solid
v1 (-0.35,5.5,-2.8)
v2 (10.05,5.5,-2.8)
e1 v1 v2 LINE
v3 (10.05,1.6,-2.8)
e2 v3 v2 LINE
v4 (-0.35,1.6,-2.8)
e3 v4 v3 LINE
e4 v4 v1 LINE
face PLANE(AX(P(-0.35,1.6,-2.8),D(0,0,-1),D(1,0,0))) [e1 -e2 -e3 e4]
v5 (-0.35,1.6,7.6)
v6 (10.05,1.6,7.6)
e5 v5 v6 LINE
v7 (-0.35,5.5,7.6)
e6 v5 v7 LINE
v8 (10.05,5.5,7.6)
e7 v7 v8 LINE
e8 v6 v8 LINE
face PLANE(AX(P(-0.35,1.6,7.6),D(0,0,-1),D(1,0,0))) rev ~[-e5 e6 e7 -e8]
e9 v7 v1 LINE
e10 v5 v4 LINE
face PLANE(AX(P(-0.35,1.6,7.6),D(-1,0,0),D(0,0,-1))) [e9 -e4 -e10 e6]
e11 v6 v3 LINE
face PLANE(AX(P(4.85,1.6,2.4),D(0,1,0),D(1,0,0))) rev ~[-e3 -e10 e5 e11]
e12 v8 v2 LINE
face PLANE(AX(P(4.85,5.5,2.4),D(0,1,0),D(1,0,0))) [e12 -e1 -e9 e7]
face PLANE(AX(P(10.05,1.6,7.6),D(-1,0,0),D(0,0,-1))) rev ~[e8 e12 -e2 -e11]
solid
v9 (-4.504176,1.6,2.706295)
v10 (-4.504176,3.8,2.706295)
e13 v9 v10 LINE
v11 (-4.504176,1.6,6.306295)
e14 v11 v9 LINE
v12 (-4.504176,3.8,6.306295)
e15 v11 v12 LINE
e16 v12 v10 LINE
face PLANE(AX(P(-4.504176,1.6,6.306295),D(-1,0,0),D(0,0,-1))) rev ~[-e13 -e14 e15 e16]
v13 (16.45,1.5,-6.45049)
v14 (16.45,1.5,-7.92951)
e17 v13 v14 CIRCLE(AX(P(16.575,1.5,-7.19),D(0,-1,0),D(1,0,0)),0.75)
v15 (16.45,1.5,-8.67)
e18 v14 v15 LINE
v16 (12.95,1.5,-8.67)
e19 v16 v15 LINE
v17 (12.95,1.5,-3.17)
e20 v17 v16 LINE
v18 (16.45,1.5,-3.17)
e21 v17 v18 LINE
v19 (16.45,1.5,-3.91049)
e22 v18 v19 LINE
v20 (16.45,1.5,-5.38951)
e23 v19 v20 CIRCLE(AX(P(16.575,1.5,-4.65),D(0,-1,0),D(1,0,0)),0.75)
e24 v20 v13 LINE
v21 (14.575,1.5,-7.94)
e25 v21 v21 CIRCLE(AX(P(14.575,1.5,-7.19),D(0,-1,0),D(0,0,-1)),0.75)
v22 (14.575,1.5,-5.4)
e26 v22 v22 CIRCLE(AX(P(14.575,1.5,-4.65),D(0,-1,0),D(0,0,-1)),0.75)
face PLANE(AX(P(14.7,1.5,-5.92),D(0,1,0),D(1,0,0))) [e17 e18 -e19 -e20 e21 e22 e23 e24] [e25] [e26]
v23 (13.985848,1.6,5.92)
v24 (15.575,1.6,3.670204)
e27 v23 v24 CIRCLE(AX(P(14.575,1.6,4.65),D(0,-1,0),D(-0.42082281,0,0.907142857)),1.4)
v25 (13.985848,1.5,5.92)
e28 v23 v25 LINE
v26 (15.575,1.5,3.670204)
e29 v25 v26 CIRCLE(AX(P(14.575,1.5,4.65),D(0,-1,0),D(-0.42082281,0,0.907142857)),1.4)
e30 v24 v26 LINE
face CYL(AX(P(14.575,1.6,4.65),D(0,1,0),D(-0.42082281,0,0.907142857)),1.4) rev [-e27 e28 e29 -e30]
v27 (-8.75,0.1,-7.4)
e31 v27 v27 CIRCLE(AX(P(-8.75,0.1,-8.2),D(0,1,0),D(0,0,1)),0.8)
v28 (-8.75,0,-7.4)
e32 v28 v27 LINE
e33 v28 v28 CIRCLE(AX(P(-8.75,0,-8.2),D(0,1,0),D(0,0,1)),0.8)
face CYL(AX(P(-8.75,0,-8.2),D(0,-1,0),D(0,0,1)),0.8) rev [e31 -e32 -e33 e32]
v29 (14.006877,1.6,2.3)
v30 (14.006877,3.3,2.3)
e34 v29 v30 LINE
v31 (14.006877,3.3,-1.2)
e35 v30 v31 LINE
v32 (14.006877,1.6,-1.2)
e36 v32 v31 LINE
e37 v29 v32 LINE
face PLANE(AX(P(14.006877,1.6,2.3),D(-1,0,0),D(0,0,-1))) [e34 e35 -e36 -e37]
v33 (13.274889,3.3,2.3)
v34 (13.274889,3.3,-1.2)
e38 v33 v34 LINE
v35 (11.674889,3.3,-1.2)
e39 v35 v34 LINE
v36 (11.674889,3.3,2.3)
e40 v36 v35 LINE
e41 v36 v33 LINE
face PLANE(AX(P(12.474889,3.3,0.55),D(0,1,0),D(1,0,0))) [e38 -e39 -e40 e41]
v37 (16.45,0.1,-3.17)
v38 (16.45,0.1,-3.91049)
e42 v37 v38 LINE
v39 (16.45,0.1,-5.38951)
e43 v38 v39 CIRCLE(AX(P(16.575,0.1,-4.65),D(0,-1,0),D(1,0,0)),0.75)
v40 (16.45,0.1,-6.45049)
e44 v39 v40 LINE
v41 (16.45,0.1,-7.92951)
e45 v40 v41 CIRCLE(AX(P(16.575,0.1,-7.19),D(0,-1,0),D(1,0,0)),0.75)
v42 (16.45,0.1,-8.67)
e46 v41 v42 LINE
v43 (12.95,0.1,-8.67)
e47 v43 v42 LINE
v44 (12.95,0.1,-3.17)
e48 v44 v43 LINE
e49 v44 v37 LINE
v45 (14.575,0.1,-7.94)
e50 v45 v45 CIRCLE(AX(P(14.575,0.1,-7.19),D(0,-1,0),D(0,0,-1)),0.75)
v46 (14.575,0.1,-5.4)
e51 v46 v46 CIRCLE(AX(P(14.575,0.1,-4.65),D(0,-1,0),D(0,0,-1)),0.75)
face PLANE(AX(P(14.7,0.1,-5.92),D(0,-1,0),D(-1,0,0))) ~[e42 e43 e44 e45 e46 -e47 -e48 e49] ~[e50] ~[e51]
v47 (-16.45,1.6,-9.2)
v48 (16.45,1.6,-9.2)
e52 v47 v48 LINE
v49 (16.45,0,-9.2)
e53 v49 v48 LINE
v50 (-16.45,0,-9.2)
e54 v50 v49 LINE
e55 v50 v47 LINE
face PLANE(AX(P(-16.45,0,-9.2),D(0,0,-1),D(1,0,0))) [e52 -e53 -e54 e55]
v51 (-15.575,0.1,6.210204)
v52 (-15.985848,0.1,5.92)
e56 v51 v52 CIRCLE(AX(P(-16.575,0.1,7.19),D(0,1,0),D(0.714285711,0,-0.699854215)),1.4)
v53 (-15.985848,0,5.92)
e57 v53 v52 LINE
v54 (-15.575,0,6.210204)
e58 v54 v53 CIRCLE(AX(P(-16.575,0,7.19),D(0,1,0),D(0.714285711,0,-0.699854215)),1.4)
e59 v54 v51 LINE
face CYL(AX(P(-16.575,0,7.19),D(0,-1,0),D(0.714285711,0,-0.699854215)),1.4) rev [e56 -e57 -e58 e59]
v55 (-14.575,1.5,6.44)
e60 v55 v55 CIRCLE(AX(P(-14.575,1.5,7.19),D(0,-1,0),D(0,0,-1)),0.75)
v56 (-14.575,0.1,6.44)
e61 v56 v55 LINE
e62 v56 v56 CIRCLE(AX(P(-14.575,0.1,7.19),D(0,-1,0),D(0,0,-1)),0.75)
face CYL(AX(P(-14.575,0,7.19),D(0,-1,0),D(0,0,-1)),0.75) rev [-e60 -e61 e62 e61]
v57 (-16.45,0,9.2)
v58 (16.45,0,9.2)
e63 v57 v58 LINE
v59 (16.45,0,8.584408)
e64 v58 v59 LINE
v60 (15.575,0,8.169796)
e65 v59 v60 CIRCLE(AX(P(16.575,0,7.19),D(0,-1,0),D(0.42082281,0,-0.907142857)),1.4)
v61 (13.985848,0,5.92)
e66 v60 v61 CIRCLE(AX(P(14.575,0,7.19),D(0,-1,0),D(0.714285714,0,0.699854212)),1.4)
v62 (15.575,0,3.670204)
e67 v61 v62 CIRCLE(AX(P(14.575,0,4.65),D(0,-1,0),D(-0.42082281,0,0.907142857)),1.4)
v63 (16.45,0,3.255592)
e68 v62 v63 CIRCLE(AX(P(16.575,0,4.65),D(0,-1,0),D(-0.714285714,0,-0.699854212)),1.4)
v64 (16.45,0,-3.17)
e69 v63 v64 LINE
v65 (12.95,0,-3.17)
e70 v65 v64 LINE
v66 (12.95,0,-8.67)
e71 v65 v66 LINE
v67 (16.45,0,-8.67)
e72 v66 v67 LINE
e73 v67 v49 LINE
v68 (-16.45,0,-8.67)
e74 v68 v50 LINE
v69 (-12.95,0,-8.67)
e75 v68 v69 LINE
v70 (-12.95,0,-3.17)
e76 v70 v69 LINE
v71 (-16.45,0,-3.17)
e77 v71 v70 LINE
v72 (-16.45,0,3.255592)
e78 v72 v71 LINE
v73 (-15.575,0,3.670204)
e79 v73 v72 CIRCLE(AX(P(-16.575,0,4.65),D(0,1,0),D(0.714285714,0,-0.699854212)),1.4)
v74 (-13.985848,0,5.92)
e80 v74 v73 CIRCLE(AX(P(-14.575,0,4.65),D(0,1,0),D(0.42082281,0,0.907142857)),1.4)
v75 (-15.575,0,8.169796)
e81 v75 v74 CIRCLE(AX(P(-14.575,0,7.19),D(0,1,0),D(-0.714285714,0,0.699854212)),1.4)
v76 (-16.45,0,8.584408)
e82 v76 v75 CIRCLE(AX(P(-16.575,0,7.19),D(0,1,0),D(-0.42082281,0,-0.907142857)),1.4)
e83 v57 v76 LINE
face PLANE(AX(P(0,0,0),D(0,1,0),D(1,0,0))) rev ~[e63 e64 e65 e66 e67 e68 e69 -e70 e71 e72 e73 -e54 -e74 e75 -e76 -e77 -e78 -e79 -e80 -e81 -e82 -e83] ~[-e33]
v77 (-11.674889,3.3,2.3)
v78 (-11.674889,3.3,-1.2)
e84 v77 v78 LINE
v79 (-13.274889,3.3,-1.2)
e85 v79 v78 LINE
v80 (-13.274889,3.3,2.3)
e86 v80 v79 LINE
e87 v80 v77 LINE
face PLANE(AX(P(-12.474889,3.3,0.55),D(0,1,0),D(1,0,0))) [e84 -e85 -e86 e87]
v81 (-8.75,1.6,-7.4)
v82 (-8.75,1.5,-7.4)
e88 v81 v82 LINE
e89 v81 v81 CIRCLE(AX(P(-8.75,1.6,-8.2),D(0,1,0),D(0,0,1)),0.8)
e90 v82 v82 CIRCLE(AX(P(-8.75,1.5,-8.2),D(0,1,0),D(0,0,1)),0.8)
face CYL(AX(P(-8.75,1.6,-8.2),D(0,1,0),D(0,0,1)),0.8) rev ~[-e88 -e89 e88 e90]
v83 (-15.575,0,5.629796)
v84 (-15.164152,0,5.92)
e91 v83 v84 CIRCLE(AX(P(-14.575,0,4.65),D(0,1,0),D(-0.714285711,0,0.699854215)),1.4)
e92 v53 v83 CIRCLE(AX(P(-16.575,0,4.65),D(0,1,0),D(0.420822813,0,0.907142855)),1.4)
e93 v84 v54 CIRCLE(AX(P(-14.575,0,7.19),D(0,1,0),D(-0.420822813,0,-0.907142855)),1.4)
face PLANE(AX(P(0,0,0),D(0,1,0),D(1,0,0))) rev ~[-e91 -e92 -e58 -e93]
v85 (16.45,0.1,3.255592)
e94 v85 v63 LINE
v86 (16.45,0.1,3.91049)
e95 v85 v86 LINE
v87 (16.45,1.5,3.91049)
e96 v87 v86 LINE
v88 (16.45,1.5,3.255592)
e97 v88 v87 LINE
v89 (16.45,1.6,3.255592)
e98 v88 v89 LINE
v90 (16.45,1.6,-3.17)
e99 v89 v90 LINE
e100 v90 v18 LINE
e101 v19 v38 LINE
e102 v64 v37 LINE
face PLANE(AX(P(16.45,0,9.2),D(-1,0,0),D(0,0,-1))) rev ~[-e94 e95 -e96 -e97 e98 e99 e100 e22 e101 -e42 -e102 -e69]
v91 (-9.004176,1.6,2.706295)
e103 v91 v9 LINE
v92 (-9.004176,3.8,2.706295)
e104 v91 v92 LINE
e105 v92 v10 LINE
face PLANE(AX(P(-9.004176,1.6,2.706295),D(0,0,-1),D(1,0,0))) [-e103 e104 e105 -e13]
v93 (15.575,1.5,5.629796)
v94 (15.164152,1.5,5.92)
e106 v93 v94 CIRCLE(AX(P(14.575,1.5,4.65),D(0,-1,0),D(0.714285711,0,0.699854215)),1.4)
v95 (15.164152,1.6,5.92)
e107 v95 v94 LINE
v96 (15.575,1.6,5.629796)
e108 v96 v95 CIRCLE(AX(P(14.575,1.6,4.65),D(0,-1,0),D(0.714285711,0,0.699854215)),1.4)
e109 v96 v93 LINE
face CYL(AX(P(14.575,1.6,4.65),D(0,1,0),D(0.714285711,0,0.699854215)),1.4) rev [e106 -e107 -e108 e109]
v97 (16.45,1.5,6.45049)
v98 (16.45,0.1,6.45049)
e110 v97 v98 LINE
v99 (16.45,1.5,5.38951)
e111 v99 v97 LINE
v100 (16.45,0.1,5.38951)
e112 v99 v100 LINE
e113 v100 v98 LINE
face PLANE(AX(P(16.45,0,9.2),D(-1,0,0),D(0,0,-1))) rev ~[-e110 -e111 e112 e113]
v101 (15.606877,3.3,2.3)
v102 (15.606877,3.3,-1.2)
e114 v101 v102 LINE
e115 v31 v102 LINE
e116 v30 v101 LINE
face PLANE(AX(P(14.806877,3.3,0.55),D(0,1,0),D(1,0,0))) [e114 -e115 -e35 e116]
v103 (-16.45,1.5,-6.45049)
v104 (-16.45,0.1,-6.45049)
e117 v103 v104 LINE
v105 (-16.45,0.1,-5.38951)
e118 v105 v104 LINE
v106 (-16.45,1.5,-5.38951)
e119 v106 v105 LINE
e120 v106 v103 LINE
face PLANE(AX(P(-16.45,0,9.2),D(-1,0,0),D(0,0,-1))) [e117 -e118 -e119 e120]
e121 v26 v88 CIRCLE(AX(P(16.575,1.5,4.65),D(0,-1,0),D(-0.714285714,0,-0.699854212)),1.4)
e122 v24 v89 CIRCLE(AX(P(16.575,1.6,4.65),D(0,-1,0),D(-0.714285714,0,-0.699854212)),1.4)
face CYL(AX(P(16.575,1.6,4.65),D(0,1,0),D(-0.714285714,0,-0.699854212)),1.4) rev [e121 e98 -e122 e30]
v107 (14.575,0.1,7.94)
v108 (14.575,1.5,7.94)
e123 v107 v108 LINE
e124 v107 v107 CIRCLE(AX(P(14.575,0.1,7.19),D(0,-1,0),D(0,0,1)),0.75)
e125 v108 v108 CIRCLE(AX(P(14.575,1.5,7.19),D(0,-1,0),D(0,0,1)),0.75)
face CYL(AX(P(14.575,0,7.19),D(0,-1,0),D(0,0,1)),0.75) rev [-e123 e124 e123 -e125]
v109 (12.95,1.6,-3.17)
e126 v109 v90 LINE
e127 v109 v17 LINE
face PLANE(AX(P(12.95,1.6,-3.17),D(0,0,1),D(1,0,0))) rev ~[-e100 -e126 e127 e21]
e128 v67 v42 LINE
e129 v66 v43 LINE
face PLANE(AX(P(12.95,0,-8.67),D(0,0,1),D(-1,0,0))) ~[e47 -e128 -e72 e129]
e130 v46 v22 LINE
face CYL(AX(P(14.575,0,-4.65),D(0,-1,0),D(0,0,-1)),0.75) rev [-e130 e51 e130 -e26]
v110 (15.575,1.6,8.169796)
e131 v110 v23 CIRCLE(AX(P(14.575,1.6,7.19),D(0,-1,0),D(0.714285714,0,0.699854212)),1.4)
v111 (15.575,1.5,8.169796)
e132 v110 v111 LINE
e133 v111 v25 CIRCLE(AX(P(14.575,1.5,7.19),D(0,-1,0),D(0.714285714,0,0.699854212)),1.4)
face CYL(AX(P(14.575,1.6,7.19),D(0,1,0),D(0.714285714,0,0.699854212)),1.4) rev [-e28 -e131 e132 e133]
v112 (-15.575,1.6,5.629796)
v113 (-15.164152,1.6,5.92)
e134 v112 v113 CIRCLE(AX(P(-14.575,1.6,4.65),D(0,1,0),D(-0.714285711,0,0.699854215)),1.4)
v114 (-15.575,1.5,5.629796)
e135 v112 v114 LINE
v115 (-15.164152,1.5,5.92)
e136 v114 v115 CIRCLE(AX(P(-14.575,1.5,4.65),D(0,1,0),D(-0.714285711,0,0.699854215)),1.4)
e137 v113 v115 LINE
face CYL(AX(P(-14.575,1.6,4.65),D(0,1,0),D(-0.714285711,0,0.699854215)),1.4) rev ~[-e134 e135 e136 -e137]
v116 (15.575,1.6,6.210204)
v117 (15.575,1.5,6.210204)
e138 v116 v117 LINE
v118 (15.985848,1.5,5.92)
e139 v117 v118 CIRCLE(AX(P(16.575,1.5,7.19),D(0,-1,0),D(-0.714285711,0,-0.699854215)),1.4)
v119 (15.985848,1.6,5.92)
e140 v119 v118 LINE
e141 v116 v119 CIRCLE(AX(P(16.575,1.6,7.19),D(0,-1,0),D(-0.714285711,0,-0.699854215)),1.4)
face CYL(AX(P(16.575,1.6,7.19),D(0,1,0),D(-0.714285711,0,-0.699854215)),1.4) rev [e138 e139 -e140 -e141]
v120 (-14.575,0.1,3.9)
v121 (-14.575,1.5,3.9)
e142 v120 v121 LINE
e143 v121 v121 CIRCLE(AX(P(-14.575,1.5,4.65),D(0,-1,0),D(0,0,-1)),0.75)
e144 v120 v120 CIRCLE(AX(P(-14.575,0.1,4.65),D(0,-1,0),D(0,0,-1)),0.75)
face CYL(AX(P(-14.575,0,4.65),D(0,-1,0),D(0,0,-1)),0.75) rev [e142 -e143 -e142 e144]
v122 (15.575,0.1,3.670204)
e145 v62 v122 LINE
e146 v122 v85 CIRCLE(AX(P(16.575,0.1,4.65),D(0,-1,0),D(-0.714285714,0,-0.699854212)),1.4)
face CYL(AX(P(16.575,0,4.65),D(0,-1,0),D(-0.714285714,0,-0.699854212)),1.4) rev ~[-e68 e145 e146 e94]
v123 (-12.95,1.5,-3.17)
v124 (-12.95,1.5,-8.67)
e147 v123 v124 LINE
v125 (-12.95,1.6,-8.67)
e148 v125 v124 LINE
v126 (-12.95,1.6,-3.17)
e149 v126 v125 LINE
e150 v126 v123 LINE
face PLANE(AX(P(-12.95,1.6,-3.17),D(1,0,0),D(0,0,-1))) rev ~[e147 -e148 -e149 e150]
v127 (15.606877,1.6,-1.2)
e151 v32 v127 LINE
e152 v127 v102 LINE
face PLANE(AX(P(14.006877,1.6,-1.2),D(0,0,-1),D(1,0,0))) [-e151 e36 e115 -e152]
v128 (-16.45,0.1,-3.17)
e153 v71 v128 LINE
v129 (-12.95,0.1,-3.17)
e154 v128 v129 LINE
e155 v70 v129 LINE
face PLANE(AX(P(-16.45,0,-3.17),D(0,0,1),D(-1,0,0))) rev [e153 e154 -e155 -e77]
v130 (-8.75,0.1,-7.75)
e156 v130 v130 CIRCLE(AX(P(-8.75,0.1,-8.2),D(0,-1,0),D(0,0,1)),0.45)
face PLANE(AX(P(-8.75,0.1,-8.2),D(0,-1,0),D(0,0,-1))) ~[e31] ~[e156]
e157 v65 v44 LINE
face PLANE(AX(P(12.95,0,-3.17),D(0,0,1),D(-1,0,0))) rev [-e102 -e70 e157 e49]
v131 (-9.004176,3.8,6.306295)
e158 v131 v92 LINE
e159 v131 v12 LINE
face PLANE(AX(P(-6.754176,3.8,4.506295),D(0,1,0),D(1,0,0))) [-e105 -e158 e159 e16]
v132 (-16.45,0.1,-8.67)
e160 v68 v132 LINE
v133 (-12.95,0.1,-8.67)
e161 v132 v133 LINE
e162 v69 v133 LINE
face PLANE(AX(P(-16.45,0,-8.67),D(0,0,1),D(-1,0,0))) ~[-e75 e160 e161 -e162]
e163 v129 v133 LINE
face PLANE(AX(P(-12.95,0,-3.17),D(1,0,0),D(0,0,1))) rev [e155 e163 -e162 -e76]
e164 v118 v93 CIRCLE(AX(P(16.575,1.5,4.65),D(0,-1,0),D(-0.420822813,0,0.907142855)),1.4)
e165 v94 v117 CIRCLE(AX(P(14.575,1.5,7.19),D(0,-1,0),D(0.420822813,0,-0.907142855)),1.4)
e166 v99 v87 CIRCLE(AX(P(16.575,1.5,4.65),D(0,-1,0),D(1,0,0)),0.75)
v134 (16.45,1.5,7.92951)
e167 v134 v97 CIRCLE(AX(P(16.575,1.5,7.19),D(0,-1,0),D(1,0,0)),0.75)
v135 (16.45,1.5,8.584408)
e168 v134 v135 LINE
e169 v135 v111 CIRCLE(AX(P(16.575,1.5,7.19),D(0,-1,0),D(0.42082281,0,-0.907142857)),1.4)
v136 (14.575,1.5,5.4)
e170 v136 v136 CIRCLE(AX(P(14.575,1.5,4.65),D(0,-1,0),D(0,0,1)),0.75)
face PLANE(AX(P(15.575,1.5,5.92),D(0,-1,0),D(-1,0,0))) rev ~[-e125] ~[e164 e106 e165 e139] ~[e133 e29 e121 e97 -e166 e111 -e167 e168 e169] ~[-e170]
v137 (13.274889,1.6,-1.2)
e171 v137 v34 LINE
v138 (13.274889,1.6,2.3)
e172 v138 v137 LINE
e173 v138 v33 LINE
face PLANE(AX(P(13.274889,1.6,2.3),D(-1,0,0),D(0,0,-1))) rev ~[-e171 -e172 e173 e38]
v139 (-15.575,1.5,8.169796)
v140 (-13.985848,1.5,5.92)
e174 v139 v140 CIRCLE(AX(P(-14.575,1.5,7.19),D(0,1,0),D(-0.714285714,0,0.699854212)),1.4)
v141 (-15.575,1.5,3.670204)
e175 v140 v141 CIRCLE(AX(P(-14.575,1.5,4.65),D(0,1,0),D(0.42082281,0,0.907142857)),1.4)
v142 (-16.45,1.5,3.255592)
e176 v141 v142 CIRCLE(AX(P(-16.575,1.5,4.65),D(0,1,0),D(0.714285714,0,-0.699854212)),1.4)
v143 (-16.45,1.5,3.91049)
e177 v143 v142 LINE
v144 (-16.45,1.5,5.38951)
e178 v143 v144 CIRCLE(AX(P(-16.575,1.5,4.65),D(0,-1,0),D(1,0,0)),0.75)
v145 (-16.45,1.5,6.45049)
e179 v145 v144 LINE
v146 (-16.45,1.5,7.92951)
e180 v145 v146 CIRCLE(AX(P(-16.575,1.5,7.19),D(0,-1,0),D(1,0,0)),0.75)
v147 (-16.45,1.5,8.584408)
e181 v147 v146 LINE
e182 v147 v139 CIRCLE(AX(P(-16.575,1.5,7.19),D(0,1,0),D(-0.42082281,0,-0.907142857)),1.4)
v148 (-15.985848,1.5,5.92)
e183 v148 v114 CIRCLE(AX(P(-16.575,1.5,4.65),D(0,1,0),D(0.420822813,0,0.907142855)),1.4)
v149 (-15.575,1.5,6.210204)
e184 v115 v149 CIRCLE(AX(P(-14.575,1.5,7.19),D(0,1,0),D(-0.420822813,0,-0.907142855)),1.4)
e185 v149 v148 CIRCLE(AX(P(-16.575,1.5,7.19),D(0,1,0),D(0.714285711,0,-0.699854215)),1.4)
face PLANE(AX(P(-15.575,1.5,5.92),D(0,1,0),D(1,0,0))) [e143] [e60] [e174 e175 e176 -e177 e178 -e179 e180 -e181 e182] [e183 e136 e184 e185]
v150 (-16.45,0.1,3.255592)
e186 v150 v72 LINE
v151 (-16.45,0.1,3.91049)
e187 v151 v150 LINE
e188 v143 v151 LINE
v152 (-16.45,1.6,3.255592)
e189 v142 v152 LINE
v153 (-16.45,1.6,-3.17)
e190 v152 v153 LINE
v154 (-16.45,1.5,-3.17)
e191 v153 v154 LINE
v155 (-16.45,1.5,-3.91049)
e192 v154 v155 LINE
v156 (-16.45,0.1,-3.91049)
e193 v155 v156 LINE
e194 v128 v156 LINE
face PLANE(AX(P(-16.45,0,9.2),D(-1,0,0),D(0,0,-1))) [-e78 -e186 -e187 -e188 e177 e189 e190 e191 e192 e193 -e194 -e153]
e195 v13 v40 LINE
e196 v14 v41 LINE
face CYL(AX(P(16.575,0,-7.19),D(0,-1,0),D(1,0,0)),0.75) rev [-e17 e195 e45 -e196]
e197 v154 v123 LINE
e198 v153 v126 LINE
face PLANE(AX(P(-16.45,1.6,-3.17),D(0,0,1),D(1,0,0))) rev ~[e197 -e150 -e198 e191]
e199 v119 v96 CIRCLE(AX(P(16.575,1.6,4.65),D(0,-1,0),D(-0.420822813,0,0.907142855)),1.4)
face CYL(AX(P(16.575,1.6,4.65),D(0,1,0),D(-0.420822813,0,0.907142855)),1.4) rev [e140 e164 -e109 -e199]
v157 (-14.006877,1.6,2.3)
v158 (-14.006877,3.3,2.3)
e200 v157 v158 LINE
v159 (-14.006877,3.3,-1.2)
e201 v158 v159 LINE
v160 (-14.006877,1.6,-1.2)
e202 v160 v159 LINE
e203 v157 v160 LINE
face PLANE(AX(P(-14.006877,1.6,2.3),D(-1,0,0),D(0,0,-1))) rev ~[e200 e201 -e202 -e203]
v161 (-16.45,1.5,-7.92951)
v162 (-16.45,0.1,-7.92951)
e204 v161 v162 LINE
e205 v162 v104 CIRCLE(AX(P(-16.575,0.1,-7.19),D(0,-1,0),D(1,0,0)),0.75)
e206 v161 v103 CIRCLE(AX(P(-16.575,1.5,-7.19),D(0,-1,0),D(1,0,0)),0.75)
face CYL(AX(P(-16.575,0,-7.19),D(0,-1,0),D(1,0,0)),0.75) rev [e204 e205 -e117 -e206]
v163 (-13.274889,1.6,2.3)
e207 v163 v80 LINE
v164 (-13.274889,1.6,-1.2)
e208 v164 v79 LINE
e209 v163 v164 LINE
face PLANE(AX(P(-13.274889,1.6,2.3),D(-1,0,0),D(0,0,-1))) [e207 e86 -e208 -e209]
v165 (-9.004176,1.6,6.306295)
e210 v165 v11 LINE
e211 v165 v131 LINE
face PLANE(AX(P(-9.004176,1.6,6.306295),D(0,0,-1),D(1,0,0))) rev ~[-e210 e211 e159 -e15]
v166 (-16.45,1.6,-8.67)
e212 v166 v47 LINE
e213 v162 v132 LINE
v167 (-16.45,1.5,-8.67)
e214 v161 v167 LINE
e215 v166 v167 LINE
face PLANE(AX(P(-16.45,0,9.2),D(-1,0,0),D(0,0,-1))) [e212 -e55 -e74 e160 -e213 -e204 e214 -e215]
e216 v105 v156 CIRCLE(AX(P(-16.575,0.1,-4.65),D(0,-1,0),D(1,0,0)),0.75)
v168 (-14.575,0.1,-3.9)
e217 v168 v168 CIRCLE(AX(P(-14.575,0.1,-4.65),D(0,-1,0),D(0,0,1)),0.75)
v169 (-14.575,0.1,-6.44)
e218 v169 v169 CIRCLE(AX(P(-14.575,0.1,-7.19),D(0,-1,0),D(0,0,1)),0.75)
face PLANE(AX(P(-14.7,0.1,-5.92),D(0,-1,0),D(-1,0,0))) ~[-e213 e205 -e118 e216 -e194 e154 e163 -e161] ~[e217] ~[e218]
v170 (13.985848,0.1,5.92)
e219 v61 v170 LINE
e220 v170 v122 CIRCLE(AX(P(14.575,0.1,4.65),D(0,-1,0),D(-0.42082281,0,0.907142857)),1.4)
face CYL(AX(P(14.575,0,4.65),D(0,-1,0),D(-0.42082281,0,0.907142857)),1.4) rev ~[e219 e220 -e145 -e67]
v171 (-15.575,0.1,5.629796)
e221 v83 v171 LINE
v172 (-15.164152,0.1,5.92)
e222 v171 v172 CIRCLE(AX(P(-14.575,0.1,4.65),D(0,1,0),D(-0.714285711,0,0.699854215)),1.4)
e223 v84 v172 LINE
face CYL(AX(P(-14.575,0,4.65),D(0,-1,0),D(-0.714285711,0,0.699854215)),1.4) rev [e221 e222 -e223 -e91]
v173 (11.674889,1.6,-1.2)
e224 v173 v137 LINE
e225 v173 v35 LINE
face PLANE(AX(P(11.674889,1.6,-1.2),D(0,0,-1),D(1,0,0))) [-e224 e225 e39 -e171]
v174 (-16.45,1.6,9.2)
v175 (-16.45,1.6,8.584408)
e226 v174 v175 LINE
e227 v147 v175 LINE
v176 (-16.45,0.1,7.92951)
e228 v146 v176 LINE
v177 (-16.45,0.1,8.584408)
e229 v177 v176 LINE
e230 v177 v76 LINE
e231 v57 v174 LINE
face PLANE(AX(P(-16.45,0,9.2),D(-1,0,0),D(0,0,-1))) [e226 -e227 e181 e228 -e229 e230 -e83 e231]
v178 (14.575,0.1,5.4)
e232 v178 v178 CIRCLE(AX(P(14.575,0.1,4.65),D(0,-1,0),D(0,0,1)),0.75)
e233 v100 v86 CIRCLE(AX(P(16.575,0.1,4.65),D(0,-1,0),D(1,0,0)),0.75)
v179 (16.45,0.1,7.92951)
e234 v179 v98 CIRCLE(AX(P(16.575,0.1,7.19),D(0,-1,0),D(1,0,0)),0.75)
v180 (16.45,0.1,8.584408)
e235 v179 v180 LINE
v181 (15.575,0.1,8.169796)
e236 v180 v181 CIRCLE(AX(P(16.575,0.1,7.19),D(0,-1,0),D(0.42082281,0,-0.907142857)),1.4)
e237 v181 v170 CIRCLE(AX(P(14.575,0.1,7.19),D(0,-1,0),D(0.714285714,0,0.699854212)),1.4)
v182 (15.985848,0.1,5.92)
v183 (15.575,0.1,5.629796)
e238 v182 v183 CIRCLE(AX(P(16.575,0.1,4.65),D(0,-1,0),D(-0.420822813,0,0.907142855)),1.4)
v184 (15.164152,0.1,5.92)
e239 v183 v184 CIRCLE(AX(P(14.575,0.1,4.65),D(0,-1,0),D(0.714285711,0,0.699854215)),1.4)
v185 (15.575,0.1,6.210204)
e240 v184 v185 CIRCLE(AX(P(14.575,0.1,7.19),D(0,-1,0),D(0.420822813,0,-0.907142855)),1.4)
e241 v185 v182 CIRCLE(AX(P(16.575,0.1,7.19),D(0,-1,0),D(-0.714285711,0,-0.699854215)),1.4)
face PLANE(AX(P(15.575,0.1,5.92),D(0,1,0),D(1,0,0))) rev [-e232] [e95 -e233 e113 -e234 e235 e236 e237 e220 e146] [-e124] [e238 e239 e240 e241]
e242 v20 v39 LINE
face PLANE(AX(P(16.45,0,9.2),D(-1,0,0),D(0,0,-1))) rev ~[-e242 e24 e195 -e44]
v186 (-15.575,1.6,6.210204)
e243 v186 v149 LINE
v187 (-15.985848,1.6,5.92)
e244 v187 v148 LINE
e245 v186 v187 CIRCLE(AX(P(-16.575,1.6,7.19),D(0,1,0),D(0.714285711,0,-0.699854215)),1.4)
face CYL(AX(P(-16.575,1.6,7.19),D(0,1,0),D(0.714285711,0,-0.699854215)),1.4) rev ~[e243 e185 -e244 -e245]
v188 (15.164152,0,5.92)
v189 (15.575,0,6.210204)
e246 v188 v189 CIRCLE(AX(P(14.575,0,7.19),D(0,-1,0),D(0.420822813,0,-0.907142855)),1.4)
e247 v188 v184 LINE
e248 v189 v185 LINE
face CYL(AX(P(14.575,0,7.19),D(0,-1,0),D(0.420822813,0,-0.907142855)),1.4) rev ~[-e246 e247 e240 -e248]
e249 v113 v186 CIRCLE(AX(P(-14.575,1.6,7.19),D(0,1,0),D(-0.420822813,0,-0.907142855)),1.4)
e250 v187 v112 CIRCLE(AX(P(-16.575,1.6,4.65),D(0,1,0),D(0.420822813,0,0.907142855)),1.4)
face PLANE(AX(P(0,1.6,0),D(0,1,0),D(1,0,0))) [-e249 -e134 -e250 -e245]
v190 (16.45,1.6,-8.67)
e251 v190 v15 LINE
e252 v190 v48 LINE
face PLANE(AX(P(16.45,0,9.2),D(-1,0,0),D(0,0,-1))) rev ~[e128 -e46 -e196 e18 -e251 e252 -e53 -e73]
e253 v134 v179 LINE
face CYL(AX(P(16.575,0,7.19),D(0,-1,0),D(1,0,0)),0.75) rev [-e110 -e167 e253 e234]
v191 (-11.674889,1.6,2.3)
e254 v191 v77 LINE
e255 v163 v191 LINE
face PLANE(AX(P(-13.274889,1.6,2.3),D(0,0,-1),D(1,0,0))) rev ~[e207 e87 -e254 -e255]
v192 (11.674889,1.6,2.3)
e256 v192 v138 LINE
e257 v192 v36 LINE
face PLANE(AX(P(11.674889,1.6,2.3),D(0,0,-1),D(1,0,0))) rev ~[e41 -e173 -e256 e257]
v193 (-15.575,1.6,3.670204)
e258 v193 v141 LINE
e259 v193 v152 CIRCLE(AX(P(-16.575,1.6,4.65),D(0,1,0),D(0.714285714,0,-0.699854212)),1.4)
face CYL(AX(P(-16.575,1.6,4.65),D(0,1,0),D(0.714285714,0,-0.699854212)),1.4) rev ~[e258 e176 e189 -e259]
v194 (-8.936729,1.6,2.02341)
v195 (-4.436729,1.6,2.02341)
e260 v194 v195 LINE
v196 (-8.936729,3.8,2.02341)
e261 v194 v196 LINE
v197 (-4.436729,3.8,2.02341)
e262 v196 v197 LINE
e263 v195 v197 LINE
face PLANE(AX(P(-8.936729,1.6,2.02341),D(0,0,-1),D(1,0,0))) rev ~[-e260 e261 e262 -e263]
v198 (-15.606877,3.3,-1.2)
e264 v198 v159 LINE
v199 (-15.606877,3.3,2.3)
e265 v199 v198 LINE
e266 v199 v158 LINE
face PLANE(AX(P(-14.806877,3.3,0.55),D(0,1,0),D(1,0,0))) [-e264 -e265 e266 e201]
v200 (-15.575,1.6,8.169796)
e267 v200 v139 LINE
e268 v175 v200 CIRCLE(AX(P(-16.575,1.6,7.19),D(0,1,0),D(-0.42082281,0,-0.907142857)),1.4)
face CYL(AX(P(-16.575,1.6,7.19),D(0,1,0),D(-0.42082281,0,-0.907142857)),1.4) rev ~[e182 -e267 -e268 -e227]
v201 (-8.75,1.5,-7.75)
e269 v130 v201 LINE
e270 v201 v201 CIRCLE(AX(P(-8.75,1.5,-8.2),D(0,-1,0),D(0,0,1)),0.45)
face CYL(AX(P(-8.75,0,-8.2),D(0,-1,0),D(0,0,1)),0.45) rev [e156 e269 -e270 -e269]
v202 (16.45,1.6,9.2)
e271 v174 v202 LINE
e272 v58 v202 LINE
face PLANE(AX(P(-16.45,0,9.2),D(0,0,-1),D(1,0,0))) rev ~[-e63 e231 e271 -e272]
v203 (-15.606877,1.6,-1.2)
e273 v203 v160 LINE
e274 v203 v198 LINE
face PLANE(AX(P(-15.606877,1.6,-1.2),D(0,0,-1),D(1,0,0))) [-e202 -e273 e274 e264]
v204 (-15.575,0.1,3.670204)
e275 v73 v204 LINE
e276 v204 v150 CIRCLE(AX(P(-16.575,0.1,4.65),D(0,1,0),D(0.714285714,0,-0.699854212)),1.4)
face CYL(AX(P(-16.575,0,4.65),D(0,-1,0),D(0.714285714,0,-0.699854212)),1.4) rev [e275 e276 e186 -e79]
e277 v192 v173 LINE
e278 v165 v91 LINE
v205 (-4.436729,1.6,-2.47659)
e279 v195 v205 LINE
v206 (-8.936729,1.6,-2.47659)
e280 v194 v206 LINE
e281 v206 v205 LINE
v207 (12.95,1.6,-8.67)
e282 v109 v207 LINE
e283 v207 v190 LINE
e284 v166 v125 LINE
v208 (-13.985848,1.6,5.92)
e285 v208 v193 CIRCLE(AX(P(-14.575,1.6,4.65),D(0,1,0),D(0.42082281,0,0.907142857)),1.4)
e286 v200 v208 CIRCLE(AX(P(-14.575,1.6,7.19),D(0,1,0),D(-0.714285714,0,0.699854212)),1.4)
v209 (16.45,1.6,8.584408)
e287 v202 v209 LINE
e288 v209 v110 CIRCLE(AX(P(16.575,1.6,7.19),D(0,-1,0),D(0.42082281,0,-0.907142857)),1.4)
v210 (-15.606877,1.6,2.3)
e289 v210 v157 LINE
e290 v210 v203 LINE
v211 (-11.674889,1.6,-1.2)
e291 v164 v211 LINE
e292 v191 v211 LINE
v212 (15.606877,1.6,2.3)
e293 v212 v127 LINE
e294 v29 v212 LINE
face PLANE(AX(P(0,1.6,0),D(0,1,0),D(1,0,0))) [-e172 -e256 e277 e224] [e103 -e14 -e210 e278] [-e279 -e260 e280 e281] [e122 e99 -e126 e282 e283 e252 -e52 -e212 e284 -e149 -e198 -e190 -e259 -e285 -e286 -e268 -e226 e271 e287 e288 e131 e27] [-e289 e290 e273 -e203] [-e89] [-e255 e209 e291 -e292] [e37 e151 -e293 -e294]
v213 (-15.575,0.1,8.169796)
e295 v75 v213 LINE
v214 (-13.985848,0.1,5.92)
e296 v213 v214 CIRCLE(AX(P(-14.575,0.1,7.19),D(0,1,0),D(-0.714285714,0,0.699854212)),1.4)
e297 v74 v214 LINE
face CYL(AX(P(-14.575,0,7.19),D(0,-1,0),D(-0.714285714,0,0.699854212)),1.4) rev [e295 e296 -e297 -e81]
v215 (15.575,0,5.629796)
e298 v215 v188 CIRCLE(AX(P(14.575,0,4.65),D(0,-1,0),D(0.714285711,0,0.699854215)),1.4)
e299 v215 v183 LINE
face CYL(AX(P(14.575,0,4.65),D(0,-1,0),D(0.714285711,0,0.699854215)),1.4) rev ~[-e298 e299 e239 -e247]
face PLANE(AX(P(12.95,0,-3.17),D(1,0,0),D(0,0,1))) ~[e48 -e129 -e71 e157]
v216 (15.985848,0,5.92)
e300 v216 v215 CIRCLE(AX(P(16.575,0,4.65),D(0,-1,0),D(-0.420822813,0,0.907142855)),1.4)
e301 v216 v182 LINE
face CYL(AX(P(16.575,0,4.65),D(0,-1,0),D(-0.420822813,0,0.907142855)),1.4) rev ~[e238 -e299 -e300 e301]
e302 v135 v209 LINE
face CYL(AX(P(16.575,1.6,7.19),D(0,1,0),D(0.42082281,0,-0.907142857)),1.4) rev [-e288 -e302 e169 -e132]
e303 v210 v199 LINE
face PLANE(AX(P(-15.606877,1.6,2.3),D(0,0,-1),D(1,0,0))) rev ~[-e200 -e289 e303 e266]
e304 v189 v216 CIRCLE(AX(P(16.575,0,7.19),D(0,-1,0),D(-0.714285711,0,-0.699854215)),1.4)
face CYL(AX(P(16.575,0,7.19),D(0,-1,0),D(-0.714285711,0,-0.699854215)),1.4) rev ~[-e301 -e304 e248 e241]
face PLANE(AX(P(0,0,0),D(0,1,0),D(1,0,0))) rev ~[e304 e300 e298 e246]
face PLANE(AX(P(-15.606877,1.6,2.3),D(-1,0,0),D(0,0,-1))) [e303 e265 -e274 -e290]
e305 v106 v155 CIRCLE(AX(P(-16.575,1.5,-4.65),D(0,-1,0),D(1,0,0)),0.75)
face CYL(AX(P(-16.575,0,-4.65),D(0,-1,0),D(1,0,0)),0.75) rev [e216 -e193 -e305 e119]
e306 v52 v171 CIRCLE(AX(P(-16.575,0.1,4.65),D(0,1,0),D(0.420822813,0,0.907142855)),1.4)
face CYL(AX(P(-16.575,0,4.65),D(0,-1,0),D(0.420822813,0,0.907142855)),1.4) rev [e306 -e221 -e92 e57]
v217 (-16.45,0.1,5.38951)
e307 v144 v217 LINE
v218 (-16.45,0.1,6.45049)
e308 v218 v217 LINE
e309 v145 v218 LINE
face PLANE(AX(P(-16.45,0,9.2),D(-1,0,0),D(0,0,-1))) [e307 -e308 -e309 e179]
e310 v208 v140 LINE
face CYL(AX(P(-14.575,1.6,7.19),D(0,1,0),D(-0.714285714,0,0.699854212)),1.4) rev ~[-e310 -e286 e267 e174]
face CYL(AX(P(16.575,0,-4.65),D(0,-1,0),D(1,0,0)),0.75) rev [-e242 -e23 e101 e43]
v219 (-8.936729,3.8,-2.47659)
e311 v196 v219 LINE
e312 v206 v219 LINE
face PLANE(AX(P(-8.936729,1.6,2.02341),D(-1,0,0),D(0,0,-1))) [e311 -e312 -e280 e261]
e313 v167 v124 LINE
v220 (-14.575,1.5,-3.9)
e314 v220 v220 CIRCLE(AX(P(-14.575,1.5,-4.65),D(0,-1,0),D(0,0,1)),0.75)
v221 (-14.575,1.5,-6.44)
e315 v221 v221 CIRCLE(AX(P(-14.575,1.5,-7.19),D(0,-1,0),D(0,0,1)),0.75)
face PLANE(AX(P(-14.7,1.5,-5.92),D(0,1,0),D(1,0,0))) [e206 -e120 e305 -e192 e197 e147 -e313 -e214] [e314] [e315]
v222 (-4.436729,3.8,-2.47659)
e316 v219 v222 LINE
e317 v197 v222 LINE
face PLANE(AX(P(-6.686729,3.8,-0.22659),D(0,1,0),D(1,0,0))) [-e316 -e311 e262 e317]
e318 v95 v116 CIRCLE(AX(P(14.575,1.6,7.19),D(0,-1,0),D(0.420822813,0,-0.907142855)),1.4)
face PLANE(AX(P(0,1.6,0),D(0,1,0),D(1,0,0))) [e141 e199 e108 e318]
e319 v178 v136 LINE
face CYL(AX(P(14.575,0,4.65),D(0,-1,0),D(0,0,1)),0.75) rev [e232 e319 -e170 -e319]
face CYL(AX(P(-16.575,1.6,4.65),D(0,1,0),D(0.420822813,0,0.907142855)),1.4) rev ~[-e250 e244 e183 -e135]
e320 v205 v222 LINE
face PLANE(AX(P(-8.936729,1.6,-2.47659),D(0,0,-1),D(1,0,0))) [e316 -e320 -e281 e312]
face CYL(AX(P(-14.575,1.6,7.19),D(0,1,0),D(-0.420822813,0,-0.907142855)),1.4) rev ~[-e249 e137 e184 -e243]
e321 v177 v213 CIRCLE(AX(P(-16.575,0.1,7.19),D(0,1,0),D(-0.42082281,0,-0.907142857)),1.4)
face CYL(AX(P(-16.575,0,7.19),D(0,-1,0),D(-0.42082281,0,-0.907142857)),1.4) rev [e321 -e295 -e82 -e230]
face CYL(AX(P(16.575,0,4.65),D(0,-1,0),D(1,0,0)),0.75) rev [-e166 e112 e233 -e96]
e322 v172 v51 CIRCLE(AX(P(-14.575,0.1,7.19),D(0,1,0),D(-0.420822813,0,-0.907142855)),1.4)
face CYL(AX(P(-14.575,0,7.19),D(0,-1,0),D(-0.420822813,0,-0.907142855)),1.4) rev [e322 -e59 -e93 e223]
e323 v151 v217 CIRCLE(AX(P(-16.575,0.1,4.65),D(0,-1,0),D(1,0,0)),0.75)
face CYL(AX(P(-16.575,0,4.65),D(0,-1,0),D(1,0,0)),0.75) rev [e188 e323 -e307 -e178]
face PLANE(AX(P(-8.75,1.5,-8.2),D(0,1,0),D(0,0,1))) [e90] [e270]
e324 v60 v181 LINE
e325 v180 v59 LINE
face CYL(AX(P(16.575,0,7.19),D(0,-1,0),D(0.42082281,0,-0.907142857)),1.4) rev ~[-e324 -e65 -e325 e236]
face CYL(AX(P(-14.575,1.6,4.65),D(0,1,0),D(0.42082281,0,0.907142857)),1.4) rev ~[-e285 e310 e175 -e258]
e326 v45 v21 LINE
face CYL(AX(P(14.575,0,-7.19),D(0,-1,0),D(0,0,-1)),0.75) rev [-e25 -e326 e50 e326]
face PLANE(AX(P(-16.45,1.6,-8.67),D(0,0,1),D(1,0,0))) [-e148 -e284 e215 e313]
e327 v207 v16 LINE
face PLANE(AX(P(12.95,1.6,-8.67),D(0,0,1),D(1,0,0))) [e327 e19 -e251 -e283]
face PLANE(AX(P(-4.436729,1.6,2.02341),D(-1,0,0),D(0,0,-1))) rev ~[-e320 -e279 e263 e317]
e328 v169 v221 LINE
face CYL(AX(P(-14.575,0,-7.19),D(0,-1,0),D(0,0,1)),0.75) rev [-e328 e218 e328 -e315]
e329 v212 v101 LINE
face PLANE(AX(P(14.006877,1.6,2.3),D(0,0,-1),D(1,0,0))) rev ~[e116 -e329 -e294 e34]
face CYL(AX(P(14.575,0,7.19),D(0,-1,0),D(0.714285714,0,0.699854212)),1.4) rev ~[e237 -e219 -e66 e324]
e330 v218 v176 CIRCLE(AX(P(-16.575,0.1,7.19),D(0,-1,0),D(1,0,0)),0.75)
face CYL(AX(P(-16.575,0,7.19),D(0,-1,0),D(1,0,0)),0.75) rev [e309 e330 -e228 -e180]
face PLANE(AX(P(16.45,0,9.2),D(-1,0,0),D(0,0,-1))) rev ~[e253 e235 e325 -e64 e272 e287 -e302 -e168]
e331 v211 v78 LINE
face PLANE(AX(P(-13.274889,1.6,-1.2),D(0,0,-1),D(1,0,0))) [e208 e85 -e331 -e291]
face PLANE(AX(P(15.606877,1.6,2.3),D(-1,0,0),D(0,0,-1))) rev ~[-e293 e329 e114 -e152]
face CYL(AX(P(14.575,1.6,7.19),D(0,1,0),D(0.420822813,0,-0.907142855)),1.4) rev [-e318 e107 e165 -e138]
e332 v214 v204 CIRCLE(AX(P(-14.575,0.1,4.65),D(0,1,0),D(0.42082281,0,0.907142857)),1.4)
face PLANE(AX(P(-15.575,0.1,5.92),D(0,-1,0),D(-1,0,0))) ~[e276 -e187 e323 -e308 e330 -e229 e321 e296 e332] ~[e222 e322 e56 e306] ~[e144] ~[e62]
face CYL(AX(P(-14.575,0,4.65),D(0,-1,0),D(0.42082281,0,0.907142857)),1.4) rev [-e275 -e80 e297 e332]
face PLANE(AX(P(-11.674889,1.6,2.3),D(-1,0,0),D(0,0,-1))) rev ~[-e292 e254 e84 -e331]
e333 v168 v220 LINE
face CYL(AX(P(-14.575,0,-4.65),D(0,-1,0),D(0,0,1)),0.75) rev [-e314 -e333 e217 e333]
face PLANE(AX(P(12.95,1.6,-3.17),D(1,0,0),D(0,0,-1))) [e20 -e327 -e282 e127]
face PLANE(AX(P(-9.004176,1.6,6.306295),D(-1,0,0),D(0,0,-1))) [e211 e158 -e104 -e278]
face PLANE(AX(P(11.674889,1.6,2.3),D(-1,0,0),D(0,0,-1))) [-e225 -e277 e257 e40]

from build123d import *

# Parameters (mm, degrees)
SKETCH1_W           = 32.9
SKETCH1_H           = 18.4
BOSS_EXTRUDE1_DEPTH = 1.6
SKETCH2_R           = 0.75
SKETCH2_R_2         = 0.45
CUT_EXTRUDE4_DEPTH  = 19.915668109
SKETCH4_R           = 0.8
SKETCH4_W           = 3.5
SKETCH4_H           = 5.5
CUT_EXTRUDE5_DEPTH  = 0.1
SKETCH3_W           = 10.4
SKETCH3_H           = 10.4
BOSS_EXTRUDE2_DEPTH = 3.9
SKETCH3_3_W         = 4.5
SKETCH3_3_H         = 4.5
SKETCH3_3_H_2       = 3.6
BOSS_EXTRUDE3_DEPTH = 2.2
SKETCH3_4_W         = 1.6
SKETCH3_4_H         = 3.5
BOSS_EXTRUDE4_DEPTH = 1.7


with BuildPart() as part:
    # Sketch1 → Boss-Extrude1 (new body)
    with BuildSketch(Plane(origin=(0, 0, 0), x_dir=(1, 0, 0), z_dir=(0, 1, 0))):
        Rectangle(SKETCH1_W, SKETCH1_H)
    extrude(amount=BOSS_EXTRUDE1_DEPTH)

    # Sketch2 → Cut-Extrude4 (cut, through all)
    with BuildSketch(Plane(origin=(0, 0, 0), x_dir=(1, 0, 0), z_dir=(0, 1, 0))):
        with Locations((-16.575, 7.19)):
            Circle(SKETCH2_R)
        with Locations((-16.575, 4.65)):
            Circle(SKETCH2_R)
        with Locations((-14.575, 7.19)):
            Circle(SKETCH2_R)
        with Locations((-14.575, 4.65)):
            Circle(SKETCH2_R)
        with Locations((14.575, 4.65)):
            Circle(SKETCH2_R)
        with Locations((14.575, 7.19)):
            Circle(SKETCH2_R)
        with Locations((16.575, 4.65)):
            Circle(SKETCH2_R)
        with Locations((16.575, 7.19)):
            Circle(SKETCH2_R)
        with Locations((16.575, -7.19)):
            Circle(SKETCH2_R)
        with Locations((16.575, -4.65)):
            Circle(SKETCH2_R)
        with Locations((14.575, -7.19)):
            Circle(SKETCH2_R)
        with Locations((14.575, -4.65)):
            Circle(SKETCH2_R)
        with Locations((-14.575, -4.65)):
            Circle(SKETCH2_R)
        with Locations((-14.575, -7.19)):
            Circle(SKETCH2_R)
        with Locations((-16.575, -4.65)):
            Circle(SKETCH2_R)
        with Locations((-16.575, -7.19)):
            Circle(SKETCH2_R)
        with Locations((-8.75, 8.2)):
            Circle(SKETCH2_R_2)
    extrude(amount=CUT_EXTRUDE4_DEPTH, mode=Mode.SUBTRACT)

    # Sketch4 → Cut-Extrude5 (cut)
    # profile 1 of 5: a face of its own
    with BuildSketch(Plane(origin=(0, 1.6, 0), x_dir=(1, 0, 0), z_dir=(0, 1, 0))):
        with Locations((-8.75, 8.2)):
            Circle(SKETCH4_R)
    # profile 2 of 5: a face of its own
    with BuildSketch(Plane(origin=(0, 1.6, 0), x_dir=(1, 0, 0), z_dir=(0, 1, 0))):
        with Locations((-14.7, 5.92)):
            Rectangle(SKETCH4_W, SKETCH4_H)
    # profile 3 of 5: a face of its own
    with BuildSketch(Plane(origin=(0, 1.6, 0), x_dir=(1, 0, 0), z_dir=(0, 1, 0))):
        with Locations((14.7, 5.92)):
            Rectangle(SKETCH4_W, SKETCH4_H)
    # profile 4 of 5: a face of its own
    with BuildSketch(Plane(origin=(0, 1.6, 0), x_dir=(1, 0, 0), z_dir=(0, 1, 0))):
        with BuildLine():
            ThreePointArc((-15.575, -3.670204103), (-17.718500952, -3.842283731), (-17.164151933, -5.92))
            ThreePointArc((-17.164151933, -5.92), (-17.718500952, -7.997716269), (-15.575, -8.169795897))
            ThreePointArc((-15.575, -8.169795897), (-13.431499048, -7.997716269), (-13.985848067, -5.92))
            ThreePointArc((-13.985848067, -5.92), (-13.431499048, -3.842283731), (-15.575, -3.670204103))
        make_face()
        with BuildLine():
            ThreePointArc((-15.575, -5.629795897), (-15.382716269, -5.793500952), (-15.164151933, -5.92))
            ThreePointArc((-15.164151933, -5.92), (-15.382716269, -6.046499048), (-15.575, -6.210204103))
            ThreePointArc((-15.575, -6.210204103), (-15.767283731, -6.046499048), (-15.985848067, -5.92))
            ThreePointArc((-15.985848067, -5.92), (-15.767283731, -5.793500952), (-15.575, -5.629795897))
        make_face(mode=Mode.SUBTRACT)
    # profile 5 of 5: a face of its own
    with BuildSketch(Plane(origin=(0, 1.6, 0), x_dir=(1, 0, 0), z_dir=(0, 1, 0))):
        with BuildLine():
            ThreePointArc((13.985848067, -5.92), (13.431499048, -3.842283731), (15.575, -3.670204103))
            ThreePointArc((15.575, -3.670204103), (17.718500952, -3.842283731), (17.164151933, -5.92))
            ThreePointArc((17.164151933, -5.92), (17.718500952, -7.997716269), (15.575, -8.169795897))
            ThreePointArc((15.575, -8.169795897), (13.431499048, -7.997716269), (13.985848067, -5.92))
        make_face()
        with BuildLine():
            ThreePointArc((15.985848067, -5.92), (15.767283731, -5.793500952), (15.575, -5.629795897))
            ThreePointArc((15.575, -5.629795897), (15.382716269, -5.793500952), (15.164151933, -5.92))
            ThreePointArc((15.164151933, -5.92), (15.382716269, -6.046499048), (15.575, -6.210204103))
            ThreePointArc((15.575, -6.210204103), (15.767283731, -6.046499048), (15.985848067, -5.92))
        make_face(mode=Mode.SUBTRACT)
    cut_extrude5 = extrude(amount=-CUT_EXTRUDE5_DEPTH, mode=Mode.SUBTRACT)

    # Mirror1: Cut-Extrude5 across plane
    add(cut_extrude5.mirror(Plane.ZX.offset(0.8)), mode=Mode.SUBTRACT)

    # Sketch3<3> → Boss-Extrude3 (add)
    with BuildSketch(Plane(origin=(0, 1.6, 0), x_dir=(1, 0, 0), z_dir=(0, 1, 0))):
        with Locations((-6.686728672, 0.226589735)):
            Rectangle(SKETCH3_3_W, SKETCH3_3_H)
        with Locations((-6.75417568, -4.506295327)):
            Rectangle(SKETCH3_3_W, SKETCH3_3_H_2)
    extrude(amount=BOSS_EXTRUDE3_DEPTH)

    # Sketch3<4> → Boss-Extrude4 (add)
    with BuildSketch(Plane(origin=(0, 1.6, 0), x_dir=(1, 0, 0), z_dir=(0, 1, 0))):
        with Locations((12.474888929, -0.55)):
            Rectangle(SKETCH3_4_W, SKETCH3_4_H)
        with Locations((14.806877453, -0.55)):
            Rectangle(SKETCH3_4_W, SKETCH3_4_H)
        with Locations((-14.806877453, -0.55)):
            Rectangle(SKETCH3_4_W, SKETCH3_4_H)
        with Locations((-12.474888929, -0.55)):
            Rectangle(SKETCH3_4_W, SKETCH3_4_H)
    extrude(amount=BOSS_EXTRUDE4_DEPTH)


with BuildPart() as body_2:
    # Sketch3 → Boss-Extrude2 (new body)
    with BuildSketch(Plane(origin=(0, 1.6, 0), x_dir=(1, 0, 0), z_dir=(0, 1, 0))):
        with Locations((4.85, -2.4)):
            Rectangle(SKETCH3_W, SKETCH3_H)
    extrude(amount=BOSS_EXTRUDE2_DEPTH)


solid = Compound([part.part, body_2.part])
